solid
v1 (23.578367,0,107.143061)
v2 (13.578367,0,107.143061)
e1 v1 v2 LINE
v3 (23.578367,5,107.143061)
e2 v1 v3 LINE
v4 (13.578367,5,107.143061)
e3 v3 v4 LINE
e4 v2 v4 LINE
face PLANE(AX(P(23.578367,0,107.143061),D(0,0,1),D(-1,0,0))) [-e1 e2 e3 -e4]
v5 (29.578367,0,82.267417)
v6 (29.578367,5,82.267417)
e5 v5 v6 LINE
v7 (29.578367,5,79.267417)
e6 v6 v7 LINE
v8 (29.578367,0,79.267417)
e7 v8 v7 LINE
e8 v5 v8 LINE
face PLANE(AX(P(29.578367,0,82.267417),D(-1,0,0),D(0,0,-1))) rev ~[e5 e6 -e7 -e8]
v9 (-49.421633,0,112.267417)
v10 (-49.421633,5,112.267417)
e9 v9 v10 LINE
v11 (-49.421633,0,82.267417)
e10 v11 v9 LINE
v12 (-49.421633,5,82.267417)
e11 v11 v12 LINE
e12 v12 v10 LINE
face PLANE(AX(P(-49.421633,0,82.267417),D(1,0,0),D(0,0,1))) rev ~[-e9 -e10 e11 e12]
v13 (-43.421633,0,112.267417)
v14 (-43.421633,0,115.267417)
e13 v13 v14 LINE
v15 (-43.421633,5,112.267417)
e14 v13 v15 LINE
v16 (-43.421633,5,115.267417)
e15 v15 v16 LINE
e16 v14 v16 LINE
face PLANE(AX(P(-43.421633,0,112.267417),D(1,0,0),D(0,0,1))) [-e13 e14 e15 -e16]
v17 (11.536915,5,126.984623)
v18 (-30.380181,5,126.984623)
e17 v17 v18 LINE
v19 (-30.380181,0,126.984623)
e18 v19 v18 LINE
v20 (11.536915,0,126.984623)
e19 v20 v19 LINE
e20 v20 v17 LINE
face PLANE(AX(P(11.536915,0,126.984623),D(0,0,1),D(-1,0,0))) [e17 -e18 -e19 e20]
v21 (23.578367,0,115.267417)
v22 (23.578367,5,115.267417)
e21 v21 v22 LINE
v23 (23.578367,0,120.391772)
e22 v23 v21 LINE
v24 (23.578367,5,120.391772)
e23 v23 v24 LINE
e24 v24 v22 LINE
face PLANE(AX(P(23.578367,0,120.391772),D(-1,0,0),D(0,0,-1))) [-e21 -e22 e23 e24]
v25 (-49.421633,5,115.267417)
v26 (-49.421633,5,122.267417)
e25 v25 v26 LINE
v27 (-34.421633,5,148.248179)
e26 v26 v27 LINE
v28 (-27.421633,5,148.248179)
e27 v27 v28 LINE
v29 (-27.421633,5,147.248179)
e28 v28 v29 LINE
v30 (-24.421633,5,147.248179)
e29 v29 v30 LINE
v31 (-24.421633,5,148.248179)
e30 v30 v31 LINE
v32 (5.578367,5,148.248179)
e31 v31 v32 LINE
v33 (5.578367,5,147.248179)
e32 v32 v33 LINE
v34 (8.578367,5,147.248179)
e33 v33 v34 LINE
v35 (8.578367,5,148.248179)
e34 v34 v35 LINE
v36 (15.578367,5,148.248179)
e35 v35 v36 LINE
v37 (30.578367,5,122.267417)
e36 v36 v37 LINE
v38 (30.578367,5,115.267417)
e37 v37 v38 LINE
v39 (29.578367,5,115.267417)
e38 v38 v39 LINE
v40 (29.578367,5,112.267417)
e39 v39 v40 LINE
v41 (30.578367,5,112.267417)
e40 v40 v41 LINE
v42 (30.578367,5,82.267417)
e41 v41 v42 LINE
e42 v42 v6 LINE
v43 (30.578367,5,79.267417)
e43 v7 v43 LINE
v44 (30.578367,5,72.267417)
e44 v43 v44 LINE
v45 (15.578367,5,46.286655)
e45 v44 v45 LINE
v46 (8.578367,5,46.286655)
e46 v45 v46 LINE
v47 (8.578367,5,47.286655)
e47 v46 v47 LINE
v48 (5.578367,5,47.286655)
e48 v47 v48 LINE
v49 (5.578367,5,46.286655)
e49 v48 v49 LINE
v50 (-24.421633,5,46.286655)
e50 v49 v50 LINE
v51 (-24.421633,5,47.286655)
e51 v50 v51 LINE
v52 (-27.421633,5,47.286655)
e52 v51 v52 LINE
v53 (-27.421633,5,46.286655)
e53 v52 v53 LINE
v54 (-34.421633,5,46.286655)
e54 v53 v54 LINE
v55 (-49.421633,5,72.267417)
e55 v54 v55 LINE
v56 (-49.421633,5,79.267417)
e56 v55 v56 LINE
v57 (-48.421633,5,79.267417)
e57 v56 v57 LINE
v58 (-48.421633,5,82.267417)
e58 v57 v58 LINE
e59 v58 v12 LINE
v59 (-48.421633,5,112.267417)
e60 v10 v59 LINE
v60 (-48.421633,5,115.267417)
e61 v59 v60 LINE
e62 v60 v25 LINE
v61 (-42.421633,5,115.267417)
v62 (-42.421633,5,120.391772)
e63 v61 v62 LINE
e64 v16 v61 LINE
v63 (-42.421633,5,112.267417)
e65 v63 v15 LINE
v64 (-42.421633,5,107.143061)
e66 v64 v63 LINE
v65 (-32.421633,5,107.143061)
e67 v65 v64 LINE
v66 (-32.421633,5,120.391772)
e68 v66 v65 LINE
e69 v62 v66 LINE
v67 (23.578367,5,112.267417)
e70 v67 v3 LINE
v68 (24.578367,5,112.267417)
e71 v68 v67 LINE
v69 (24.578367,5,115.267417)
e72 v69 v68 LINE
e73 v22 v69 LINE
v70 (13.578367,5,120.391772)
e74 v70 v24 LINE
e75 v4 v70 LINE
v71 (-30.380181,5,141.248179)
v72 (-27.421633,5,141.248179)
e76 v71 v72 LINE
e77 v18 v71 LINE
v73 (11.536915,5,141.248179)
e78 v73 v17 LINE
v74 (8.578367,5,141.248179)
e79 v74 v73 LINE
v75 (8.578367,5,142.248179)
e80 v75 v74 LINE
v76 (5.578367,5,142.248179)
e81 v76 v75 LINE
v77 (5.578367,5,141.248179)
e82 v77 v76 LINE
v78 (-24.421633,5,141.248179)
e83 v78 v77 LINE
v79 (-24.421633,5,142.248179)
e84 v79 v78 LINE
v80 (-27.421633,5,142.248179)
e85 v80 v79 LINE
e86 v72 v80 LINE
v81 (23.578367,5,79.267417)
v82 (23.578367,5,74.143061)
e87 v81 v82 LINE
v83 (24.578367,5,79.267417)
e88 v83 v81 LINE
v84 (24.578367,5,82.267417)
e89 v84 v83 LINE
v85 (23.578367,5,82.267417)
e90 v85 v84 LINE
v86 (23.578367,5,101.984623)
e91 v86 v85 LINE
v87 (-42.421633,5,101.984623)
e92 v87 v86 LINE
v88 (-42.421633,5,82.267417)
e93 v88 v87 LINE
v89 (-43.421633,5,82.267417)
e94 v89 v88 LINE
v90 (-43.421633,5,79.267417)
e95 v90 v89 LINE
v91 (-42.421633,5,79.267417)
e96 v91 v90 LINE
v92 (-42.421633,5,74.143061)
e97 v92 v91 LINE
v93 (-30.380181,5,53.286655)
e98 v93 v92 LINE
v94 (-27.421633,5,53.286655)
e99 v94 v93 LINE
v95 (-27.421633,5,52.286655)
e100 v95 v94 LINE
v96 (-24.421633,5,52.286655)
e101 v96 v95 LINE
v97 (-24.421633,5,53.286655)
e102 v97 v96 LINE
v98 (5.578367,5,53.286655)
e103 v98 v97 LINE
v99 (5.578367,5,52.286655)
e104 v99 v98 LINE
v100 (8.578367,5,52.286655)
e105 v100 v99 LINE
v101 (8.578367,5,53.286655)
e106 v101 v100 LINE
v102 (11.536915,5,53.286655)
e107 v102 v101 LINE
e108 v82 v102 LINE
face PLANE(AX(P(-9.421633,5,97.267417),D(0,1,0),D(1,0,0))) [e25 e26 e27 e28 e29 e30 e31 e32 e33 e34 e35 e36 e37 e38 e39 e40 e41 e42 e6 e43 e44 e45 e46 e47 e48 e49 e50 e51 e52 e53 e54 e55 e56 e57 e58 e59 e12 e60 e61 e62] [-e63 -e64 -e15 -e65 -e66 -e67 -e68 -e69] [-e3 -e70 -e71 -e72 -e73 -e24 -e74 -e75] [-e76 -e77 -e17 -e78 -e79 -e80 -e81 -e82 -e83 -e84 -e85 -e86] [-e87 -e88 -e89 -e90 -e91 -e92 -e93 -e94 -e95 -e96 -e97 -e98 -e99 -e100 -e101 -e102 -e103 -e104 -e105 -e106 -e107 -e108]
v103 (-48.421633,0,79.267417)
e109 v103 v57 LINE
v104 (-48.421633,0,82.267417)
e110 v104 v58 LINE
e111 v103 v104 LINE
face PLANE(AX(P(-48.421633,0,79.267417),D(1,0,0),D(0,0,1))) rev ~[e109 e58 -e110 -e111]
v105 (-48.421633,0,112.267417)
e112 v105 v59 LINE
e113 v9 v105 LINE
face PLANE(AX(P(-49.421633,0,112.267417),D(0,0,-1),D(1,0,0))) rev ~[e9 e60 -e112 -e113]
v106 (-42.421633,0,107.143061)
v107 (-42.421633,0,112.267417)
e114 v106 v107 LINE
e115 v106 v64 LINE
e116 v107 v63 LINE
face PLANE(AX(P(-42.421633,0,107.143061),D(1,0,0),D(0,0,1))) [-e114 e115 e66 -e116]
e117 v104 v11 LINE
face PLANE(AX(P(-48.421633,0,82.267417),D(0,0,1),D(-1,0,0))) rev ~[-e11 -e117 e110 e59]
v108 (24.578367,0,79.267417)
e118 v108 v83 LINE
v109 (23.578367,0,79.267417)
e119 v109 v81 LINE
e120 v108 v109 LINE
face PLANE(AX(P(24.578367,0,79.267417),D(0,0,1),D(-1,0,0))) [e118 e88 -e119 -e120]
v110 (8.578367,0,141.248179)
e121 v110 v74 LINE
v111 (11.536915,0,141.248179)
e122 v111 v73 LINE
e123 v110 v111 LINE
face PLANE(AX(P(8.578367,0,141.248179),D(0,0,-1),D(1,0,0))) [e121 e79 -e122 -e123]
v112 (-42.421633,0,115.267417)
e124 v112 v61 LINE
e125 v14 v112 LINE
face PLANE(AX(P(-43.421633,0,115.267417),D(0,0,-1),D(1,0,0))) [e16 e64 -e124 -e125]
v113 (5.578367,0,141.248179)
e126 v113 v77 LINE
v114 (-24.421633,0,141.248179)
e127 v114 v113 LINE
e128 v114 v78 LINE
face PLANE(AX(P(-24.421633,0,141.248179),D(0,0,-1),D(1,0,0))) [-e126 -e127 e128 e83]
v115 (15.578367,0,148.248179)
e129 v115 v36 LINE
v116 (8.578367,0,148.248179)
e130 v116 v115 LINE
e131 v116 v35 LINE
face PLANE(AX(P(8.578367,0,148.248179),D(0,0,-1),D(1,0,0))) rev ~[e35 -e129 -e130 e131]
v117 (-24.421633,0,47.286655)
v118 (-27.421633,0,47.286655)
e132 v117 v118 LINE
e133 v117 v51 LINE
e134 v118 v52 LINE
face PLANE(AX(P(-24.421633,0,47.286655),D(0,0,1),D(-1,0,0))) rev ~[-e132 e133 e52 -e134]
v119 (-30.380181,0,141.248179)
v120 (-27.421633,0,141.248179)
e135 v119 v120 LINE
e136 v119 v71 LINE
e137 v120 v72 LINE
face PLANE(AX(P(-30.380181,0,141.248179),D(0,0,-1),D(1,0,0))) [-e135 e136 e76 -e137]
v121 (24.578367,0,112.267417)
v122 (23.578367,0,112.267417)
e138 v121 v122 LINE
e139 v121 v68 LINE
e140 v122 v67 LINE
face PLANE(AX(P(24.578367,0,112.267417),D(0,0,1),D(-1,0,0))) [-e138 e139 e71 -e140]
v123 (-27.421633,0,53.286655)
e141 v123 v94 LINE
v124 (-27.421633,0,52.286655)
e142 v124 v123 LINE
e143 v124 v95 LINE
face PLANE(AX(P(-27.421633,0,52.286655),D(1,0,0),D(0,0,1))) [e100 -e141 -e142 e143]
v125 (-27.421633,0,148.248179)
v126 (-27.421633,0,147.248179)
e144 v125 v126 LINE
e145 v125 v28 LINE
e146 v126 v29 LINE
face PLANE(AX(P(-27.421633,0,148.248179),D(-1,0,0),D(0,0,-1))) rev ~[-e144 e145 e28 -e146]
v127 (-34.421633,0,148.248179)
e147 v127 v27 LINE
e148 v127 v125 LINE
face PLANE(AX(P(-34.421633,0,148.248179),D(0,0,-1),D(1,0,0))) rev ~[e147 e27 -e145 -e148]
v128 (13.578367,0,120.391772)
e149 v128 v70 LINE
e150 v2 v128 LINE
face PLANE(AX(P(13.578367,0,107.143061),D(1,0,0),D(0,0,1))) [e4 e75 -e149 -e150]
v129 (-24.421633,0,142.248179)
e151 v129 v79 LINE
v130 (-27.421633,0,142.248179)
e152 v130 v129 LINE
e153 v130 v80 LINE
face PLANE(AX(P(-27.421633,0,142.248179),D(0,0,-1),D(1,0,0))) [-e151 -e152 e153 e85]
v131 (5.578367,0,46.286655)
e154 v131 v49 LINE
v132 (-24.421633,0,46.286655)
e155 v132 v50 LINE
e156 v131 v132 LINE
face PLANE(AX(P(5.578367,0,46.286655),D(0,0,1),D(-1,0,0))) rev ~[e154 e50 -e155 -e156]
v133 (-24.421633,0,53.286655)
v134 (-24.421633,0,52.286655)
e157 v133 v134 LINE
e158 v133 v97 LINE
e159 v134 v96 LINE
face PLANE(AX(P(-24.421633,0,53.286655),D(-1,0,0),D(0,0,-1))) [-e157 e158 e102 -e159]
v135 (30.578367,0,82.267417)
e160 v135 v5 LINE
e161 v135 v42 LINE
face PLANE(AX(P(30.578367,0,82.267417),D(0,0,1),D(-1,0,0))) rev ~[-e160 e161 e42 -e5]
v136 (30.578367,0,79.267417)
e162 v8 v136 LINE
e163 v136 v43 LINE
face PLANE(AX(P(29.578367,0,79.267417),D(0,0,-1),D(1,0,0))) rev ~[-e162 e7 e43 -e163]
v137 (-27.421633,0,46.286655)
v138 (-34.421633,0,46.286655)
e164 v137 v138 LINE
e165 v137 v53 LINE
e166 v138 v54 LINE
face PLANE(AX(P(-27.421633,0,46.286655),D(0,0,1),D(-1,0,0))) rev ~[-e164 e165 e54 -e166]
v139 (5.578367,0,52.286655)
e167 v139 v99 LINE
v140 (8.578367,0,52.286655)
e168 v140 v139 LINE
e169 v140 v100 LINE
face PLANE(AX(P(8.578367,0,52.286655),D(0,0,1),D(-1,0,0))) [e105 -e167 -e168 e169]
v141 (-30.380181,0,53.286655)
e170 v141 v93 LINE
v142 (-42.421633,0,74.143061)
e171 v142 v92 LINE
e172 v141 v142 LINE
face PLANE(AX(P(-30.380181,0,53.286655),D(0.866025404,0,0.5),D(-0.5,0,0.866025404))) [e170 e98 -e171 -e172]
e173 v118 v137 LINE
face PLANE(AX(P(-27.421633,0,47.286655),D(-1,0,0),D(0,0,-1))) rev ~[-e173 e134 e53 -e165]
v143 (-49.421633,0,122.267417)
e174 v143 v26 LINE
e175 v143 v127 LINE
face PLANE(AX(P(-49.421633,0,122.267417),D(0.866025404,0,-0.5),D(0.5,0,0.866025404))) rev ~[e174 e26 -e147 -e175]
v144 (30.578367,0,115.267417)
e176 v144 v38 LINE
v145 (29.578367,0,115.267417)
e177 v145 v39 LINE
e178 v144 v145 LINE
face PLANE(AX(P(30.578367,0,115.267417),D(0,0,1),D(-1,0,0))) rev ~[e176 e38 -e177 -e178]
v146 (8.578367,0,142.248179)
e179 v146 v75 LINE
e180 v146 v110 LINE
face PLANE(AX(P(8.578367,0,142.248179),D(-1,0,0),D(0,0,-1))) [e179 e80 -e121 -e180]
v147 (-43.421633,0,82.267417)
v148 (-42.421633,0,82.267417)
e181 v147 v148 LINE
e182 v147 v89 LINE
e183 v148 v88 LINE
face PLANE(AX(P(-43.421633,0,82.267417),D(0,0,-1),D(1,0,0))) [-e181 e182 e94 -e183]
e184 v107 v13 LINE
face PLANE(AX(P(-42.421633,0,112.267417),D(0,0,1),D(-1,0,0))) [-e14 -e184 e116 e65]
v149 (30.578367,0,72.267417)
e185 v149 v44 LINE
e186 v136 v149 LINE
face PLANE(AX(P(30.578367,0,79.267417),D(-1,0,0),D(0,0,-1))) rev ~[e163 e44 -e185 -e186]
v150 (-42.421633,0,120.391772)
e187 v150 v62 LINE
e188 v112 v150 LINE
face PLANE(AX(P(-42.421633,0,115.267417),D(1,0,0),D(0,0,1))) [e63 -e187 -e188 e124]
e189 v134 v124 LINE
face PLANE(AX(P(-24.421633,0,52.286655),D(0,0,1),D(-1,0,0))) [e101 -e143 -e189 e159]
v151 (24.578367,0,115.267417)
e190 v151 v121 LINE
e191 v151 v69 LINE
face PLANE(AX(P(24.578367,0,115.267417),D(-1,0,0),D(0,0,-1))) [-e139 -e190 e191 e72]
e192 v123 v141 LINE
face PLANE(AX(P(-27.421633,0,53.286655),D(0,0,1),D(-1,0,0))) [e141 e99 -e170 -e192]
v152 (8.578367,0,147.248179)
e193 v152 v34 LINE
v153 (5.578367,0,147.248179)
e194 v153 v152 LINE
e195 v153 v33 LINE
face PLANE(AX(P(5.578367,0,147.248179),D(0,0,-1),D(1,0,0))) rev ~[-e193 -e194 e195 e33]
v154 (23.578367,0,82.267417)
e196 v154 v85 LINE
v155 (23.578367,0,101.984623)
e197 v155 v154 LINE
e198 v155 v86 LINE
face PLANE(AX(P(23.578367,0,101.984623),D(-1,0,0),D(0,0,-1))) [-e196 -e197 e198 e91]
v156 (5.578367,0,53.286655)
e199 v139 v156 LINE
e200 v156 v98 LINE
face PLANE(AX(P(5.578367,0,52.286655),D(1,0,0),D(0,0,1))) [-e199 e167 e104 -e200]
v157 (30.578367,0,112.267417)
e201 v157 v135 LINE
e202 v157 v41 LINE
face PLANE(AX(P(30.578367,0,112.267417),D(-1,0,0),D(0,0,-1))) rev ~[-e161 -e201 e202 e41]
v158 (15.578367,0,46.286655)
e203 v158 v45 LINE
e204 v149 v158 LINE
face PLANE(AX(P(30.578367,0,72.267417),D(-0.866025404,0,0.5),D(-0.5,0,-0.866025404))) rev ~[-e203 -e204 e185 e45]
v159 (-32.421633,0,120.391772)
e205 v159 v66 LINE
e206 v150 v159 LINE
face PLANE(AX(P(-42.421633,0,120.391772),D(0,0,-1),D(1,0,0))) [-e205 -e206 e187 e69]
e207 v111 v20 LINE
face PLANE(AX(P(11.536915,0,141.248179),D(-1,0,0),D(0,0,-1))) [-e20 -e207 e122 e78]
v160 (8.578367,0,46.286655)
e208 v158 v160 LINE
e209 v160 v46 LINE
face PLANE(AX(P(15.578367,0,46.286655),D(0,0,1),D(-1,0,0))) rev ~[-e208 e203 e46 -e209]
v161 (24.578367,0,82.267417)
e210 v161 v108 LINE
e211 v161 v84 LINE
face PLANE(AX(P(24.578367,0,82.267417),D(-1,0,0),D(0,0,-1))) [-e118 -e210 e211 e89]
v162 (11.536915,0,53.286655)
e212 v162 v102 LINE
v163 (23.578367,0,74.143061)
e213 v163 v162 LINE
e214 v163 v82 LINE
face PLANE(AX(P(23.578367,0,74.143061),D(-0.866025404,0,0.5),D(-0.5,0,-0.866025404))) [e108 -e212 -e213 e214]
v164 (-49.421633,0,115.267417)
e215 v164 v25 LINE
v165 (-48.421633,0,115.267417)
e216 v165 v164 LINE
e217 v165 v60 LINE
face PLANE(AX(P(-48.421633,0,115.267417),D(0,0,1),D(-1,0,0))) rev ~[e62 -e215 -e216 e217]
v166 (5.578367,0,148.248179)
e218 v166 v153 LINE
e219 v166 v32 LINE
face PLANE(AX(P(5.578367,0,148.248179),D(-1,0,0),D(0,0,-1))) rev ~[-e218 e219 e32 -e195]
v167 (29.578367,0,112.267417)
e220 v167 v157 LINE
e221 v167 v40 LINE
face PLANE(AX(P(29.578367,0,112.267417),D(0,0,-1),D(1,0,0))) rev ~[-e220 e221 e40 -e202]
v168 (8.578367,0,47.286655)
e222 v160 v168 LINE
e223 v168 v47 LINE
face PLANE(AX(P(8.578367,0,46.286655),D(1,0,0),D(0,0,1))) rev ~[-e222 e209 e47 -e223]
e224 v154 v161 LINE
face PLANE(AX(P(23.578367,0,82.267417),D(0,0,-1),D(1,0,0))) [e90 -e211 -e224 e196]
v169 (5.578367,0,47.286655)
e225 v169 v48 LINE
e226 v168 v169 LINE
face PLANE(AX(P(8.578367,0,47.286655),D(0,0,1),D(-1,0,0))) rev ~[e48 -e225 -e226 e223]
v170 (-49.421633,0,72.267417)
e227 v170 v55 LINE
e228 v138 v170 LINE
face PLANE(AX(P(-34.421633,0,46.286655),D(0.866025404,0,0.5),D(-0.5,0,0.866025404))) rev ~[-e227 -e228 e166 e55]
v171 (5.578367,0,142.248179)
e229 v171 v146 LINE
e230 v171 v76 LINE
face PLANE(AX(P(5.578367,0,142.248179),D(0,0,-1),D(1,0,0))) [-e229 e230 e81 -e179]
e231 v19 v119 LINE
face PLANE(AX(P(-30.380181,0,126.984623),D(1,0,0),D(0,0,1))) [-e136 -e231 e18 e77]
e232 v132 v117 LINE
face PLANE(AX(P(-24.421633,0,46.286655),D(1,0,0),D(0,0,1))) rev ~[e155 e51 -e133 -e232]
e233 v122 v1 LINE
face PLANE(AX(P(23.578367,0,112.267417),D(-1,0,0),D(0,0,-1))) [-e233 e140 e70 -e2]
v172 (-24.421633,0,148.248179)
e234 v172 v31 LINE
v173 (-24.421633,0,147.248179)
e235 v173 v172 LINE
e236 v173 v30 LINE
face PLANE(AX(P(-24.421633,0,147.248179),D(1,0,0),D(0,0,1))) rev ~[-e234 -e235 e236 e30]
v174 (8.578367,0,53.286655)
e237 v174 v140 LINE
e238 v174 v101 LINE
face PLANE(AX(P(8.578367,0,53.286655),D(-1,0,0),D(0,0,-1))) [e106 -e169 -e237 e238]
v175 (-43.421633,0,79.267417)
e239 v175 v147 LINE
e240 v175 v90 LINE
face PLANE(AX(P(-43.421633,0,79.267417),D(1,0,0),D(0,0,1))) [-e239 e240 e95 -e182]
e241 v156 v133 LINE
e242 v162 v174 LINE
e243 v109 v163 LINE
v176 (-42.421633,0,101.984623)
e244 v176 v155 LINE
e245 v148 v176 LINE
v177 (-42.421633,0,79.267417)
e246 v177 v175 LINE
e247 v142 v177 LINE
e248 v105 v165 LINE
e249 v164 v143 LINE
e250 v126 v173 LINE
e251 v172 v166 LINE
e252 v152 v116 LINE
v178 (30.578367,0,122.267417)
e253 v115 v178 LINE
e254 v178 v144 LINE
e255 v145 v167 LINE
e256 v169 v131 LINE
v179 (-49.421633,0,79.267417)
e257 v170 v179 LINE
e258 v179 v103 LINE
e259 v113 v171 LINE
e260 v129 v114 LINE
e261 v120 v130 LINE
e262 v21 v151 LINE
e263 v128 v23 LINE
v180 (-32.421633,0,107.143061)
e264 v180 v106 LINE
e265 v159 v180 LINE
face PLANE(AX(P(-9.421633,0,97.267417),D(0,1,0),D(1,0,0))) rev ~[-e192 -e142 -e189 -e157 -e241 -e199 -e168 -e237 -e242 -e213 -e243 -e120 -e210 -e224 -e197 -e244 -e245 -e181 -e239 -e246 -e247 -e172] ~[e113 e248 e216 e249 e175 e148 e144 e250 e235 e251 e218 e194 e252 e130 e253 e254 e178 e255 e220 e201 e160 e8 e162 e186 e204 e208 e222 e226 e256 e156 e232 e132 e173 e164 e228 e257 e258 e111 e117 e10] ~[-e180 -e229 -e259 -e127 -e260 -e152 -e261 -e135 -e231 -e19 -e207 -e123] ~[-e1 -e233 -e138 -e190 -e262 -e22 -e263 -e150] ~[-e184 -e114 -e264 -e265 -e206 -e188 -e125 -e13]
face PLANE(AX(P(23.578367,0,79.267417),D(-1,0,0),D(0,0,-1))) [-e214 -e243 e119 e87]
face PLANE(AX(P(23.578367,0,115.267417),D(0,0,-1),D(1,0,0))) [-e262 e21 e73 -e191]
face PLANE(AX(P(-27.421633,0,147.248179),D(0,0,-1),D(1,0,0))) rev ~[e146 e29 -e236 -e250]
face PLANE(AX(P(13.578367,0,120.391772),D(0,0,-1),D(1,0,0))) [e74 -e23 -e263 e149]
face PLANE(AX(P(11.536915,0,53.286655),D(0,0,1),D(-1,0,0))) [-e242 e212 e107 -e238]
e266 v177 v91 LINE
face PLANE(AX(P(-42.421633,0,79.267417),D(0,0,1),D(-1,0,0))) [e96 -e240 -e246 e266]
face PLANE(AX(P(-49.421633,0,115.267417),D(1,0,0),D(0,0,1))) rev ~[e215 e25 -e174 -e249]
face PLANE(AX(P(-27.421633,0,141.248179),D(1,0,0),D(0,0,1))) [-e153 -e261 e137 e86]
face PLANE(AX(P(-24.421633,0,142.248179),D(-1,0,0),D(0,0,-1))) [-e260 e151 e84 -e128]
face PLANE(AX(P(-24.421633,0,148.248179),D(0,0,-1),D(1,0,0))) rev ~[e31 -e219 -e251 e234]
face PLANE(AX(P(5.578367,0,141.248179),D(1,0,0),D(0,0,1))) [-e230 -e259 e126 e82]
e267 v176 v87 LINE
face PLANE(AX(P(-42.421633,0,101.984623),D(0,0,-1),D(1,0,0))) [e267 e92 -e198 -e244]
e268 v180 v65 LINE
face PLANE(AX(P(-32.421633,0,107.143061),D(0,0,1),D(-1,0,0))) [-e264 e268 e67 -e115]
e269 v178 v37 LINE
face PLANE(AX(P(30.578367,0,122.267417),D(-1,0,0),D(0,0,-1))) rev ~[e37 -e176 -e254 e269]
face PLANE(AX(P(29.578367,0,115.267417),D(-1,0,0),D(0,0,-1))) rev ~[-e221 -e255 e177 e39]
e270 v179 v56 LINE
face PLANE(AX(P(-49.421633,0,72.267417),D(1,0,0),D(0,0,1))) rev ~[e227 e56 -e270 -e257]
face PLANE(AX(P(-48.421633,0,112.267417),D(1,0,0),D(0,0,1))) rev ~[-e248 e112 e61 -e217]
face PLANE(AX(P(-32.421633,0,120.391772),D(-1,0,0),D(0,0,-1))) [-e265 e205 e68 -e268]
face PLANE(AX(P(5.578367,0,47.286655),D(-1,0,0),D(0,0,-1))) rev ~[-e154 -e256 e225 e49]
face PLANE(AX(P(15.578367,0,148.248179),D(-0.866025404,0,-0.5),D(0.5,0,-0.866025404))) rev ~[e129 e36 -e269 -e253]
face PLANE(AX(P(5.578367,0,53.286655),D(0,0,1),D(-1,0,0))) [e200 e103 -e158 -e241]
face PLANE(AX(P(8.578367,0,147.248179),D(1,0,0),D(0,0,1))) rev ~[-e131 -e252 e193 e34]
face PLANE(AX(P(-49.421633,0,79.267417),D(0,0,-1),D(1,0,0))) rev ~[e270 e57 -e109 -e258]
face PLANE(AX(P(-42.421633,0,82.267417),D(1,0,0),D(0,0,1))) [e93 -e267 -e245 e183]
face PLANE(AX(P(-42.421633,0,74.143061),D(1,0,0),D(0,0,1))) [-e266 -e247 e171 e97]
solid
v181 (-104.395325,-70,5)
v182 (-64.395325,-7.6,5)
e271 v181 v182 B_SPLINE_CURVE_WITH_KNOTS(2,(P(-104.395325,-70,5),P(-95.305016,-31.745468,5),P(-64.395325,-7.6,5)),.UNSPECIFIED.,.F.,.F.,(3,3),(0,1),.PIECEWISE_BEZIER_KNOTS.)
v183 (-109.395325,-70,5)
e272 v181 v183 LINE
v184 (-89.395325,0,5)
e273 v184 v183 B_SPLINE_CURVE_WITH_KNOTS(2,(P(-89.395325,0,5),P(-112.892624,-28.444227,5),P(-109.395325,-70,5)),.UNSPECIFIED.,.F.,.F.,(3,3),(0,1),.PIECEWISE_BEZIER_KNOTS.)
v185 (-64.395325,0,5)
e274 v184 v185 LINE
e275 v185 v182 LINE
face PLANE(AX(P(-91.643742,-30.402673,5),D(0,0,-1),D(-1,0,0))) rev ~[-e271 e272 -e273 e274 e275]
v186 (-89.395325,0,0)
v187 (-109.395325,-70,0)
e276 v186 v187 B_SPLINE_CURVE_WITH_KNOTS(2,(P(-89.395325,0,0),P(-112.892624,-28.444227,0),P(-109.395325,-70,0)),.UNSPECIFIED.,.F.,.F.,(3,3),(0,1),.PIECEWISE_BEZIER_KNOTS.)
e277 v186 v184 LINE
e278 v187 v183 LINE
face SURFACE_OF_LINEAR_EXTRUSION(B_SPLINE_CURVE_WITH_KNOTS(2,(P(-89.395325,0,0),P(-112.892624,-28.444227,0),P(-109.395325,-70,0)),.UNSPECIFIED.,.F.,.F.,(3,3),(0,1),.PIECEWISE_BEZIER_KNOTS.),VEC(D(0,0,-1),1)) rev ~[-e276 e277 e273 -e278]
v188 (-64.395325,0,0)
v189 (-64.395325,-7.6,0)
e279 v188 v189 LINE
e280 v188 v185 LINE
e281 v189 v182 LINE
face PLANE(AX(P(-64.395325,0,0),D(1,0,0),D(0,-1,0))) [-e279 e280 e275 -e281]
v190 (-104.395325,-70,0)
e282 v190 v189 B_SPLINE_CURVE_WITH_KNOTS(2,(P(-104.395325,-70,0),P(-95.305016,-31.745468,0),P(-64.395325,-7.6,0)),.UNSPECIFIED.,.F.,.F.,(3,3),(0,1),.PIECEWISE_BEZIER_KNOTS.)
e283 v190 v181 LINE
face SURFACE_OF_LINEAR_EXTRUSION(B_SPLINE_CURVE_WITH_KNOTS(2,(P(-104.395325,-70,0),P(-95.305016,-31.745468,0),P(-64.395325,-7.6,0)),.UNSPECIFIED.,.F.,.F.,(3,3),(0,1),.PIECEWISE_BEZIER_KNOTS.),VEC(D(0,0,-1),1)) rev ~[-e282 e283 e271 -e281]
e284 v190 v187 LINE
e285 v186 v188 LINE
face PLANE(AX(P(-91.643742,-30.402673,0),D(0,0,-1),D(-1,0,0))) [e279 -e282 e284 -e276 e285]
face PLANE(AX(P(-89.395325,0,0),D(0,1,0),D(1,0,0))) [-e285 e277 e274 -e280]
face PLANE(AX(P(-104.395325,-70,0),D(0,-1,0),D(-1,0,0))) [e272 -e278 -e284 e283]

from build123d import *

# Parameters (mm, degrees)
FOOT_DEPTH                       = 5
FEET_BASE_W_BATTERY_HOLDER_DEPTH = 5


with BuildPart() as part:
    # Esquisse1 → Foot (new body)
    with BuildSketch(Plane.XY):
        with BuildLine():
            Line((-89.395324531, 0), (-64.395324531, 0))
            Line((-64.395324531, 0), (-64.395324531, -7.6))
            add(Edge.make_bspline(
                [(-104.395324531, -70), (-95.305016455, -31.745468269), (-64.395324531, -7.6)],
                knots=[0, 0, 0, 1, 1, 1], degree=2))
            Line((-104.395324531, -70), (-109.395324531, -70))
            add(Edge.make_bspline(
                [(-89.395324531, 0), (-112.89262364, -28.444226906), (-109.395324531, -70)],
                knots=[0, 0, 0, 1, 1, 1], degree=2))
        make_face()
    extrude(amount=FOOT_DEPTH)


with BuildPart() as body_2:
    # Feet base w/ battery → Feet base w/battery holder (new body)
    with BuildSketch(Plane(origin=(0, 0, 0), x_dir=(1, 0, 0), z_dir=(0, 1, 0))):
        Polygon((-34.421633158, -148.248178954), (-27.421633158, -148.248178954), (-27.421633158, -147.248178954), (-24.421633158, -147.248178954), (-24.421633158, -148.248178954), (5.578366842, -148.248178954), (5.578366842, -147.248178954), (8.578366842, -147.248178954), (8.578366842, -148.248178954), (15.578366842, -148.248178954), (30.578366842, -122.267416841), (30.578366842, -115.267416841), (29.578366842, -115.267416841), (29.578366842, -112.267416841), (30.578366842, -112.267416841), (30.578366842, -82.267416841), (29.578366842, -82.267416841), (29.578366842, -79.267416841), (30.578366842, -79.267416841), (30.578366842, -72.267416841), (15.578366842, -46.286654727), (8.578366842, -46.286654727), (8.578366842, -47.286654727), (5.578366842, -47.286654727), (5.578366842, -46.286654727), (-24.421633158, -46.286654727), (-24.421633158, -47.286654727), (-27.421633158, -47.286654727), (-27.421633158, -46.286654727), (-34.421633158, -46.286654727), (-49.421633158, -72.267416841), (-49.421633158, -79.267416841), (-48.421633158, -79.267416841), (-48.421633158, -82.267416841), (-49.421633158, -82.267416841), (-49.421633158, -112.267416841), (-48.421633158, -112.267416841), (-48.421633158, -115.267416841), (-49.421633158, -115.267416841), (-49.421633158, -122.267416841), align=None)
        Polygon((-42.421633158, -115.267416841), (-42.421633158, -120.391772494), (-32.421633158, -120.391772494), (-32.421633158, -107.143061191), (-42.421633158, -107.143061191), (-42.421633158, -112.267416841), (-43.421633158, -112.267416841), (-43.421633158, -115.267416841), align=None, mode=Mode.SUBTRACT)
        Polygon((-42.421633158, -74.143061188), (-42.421633158, -79.267416841), (-43.421633158, -79.267416841), (-43.421633158, -82.267416841), (-42.421633158, -82.267416841), (-42.421633158, -101.984623152), (23.578366842, -101.984623152), (23.578366842, -82.267416841), (24.578366842, -82.267416841), (24.578366842, -79.267416841), (23.578366842, -79.267416841), (23.578366842, -74.143061188), (11.536914958, -53.286654727), (8.578366842, -53.286654727), (8.578366842, -52.286654727), (5.578366842, -52.286654727), (5.578366842, -53.286654727), (-24.421633158, -53.286654727), (-24.421633158, -52.286654727), (-27.421633158, -52.286654727), (-27.421633158, -53.286654727), (-30.380181274, -53.286654727), align=None, mode=Mode.SUBTRACT)
        Polygon((23.578366842, -120.391772494), (23.578366842, -115.267416841), (24.578366842, -115.267416841), (24.578366842, -112.267416841), (23.578366842, -112.267416841), (23.578366842, -107.143061191), (13.578366842, -107.143061191), (13.578366842, -120.391772494), align=None, mode=Mode.SUBTRACT)
        Polygon((8.578366842, -141.248178954), (11.536914958, -141.248178954), (11.536914958, -126.984623152), (-30.380181274, -126.984623152), (-30.380181274, -141.248178954), (-27.421633158, -141.248178954), (-27.421633158, -142.248178954), (-24.421633158, -142.248178954), (-24.421633158, -141.248178954), (5.578366842, -141.248178954), (5.578366842, -142.248178954), (8.578366842, -142.248178954), align=None, mode=Mode.SUBTRACT)
    extrude(amount=FEET_BASE_W_BATTERY_HOLDER_DEPTH)


solid = Compound([part.part, body_2.part])
